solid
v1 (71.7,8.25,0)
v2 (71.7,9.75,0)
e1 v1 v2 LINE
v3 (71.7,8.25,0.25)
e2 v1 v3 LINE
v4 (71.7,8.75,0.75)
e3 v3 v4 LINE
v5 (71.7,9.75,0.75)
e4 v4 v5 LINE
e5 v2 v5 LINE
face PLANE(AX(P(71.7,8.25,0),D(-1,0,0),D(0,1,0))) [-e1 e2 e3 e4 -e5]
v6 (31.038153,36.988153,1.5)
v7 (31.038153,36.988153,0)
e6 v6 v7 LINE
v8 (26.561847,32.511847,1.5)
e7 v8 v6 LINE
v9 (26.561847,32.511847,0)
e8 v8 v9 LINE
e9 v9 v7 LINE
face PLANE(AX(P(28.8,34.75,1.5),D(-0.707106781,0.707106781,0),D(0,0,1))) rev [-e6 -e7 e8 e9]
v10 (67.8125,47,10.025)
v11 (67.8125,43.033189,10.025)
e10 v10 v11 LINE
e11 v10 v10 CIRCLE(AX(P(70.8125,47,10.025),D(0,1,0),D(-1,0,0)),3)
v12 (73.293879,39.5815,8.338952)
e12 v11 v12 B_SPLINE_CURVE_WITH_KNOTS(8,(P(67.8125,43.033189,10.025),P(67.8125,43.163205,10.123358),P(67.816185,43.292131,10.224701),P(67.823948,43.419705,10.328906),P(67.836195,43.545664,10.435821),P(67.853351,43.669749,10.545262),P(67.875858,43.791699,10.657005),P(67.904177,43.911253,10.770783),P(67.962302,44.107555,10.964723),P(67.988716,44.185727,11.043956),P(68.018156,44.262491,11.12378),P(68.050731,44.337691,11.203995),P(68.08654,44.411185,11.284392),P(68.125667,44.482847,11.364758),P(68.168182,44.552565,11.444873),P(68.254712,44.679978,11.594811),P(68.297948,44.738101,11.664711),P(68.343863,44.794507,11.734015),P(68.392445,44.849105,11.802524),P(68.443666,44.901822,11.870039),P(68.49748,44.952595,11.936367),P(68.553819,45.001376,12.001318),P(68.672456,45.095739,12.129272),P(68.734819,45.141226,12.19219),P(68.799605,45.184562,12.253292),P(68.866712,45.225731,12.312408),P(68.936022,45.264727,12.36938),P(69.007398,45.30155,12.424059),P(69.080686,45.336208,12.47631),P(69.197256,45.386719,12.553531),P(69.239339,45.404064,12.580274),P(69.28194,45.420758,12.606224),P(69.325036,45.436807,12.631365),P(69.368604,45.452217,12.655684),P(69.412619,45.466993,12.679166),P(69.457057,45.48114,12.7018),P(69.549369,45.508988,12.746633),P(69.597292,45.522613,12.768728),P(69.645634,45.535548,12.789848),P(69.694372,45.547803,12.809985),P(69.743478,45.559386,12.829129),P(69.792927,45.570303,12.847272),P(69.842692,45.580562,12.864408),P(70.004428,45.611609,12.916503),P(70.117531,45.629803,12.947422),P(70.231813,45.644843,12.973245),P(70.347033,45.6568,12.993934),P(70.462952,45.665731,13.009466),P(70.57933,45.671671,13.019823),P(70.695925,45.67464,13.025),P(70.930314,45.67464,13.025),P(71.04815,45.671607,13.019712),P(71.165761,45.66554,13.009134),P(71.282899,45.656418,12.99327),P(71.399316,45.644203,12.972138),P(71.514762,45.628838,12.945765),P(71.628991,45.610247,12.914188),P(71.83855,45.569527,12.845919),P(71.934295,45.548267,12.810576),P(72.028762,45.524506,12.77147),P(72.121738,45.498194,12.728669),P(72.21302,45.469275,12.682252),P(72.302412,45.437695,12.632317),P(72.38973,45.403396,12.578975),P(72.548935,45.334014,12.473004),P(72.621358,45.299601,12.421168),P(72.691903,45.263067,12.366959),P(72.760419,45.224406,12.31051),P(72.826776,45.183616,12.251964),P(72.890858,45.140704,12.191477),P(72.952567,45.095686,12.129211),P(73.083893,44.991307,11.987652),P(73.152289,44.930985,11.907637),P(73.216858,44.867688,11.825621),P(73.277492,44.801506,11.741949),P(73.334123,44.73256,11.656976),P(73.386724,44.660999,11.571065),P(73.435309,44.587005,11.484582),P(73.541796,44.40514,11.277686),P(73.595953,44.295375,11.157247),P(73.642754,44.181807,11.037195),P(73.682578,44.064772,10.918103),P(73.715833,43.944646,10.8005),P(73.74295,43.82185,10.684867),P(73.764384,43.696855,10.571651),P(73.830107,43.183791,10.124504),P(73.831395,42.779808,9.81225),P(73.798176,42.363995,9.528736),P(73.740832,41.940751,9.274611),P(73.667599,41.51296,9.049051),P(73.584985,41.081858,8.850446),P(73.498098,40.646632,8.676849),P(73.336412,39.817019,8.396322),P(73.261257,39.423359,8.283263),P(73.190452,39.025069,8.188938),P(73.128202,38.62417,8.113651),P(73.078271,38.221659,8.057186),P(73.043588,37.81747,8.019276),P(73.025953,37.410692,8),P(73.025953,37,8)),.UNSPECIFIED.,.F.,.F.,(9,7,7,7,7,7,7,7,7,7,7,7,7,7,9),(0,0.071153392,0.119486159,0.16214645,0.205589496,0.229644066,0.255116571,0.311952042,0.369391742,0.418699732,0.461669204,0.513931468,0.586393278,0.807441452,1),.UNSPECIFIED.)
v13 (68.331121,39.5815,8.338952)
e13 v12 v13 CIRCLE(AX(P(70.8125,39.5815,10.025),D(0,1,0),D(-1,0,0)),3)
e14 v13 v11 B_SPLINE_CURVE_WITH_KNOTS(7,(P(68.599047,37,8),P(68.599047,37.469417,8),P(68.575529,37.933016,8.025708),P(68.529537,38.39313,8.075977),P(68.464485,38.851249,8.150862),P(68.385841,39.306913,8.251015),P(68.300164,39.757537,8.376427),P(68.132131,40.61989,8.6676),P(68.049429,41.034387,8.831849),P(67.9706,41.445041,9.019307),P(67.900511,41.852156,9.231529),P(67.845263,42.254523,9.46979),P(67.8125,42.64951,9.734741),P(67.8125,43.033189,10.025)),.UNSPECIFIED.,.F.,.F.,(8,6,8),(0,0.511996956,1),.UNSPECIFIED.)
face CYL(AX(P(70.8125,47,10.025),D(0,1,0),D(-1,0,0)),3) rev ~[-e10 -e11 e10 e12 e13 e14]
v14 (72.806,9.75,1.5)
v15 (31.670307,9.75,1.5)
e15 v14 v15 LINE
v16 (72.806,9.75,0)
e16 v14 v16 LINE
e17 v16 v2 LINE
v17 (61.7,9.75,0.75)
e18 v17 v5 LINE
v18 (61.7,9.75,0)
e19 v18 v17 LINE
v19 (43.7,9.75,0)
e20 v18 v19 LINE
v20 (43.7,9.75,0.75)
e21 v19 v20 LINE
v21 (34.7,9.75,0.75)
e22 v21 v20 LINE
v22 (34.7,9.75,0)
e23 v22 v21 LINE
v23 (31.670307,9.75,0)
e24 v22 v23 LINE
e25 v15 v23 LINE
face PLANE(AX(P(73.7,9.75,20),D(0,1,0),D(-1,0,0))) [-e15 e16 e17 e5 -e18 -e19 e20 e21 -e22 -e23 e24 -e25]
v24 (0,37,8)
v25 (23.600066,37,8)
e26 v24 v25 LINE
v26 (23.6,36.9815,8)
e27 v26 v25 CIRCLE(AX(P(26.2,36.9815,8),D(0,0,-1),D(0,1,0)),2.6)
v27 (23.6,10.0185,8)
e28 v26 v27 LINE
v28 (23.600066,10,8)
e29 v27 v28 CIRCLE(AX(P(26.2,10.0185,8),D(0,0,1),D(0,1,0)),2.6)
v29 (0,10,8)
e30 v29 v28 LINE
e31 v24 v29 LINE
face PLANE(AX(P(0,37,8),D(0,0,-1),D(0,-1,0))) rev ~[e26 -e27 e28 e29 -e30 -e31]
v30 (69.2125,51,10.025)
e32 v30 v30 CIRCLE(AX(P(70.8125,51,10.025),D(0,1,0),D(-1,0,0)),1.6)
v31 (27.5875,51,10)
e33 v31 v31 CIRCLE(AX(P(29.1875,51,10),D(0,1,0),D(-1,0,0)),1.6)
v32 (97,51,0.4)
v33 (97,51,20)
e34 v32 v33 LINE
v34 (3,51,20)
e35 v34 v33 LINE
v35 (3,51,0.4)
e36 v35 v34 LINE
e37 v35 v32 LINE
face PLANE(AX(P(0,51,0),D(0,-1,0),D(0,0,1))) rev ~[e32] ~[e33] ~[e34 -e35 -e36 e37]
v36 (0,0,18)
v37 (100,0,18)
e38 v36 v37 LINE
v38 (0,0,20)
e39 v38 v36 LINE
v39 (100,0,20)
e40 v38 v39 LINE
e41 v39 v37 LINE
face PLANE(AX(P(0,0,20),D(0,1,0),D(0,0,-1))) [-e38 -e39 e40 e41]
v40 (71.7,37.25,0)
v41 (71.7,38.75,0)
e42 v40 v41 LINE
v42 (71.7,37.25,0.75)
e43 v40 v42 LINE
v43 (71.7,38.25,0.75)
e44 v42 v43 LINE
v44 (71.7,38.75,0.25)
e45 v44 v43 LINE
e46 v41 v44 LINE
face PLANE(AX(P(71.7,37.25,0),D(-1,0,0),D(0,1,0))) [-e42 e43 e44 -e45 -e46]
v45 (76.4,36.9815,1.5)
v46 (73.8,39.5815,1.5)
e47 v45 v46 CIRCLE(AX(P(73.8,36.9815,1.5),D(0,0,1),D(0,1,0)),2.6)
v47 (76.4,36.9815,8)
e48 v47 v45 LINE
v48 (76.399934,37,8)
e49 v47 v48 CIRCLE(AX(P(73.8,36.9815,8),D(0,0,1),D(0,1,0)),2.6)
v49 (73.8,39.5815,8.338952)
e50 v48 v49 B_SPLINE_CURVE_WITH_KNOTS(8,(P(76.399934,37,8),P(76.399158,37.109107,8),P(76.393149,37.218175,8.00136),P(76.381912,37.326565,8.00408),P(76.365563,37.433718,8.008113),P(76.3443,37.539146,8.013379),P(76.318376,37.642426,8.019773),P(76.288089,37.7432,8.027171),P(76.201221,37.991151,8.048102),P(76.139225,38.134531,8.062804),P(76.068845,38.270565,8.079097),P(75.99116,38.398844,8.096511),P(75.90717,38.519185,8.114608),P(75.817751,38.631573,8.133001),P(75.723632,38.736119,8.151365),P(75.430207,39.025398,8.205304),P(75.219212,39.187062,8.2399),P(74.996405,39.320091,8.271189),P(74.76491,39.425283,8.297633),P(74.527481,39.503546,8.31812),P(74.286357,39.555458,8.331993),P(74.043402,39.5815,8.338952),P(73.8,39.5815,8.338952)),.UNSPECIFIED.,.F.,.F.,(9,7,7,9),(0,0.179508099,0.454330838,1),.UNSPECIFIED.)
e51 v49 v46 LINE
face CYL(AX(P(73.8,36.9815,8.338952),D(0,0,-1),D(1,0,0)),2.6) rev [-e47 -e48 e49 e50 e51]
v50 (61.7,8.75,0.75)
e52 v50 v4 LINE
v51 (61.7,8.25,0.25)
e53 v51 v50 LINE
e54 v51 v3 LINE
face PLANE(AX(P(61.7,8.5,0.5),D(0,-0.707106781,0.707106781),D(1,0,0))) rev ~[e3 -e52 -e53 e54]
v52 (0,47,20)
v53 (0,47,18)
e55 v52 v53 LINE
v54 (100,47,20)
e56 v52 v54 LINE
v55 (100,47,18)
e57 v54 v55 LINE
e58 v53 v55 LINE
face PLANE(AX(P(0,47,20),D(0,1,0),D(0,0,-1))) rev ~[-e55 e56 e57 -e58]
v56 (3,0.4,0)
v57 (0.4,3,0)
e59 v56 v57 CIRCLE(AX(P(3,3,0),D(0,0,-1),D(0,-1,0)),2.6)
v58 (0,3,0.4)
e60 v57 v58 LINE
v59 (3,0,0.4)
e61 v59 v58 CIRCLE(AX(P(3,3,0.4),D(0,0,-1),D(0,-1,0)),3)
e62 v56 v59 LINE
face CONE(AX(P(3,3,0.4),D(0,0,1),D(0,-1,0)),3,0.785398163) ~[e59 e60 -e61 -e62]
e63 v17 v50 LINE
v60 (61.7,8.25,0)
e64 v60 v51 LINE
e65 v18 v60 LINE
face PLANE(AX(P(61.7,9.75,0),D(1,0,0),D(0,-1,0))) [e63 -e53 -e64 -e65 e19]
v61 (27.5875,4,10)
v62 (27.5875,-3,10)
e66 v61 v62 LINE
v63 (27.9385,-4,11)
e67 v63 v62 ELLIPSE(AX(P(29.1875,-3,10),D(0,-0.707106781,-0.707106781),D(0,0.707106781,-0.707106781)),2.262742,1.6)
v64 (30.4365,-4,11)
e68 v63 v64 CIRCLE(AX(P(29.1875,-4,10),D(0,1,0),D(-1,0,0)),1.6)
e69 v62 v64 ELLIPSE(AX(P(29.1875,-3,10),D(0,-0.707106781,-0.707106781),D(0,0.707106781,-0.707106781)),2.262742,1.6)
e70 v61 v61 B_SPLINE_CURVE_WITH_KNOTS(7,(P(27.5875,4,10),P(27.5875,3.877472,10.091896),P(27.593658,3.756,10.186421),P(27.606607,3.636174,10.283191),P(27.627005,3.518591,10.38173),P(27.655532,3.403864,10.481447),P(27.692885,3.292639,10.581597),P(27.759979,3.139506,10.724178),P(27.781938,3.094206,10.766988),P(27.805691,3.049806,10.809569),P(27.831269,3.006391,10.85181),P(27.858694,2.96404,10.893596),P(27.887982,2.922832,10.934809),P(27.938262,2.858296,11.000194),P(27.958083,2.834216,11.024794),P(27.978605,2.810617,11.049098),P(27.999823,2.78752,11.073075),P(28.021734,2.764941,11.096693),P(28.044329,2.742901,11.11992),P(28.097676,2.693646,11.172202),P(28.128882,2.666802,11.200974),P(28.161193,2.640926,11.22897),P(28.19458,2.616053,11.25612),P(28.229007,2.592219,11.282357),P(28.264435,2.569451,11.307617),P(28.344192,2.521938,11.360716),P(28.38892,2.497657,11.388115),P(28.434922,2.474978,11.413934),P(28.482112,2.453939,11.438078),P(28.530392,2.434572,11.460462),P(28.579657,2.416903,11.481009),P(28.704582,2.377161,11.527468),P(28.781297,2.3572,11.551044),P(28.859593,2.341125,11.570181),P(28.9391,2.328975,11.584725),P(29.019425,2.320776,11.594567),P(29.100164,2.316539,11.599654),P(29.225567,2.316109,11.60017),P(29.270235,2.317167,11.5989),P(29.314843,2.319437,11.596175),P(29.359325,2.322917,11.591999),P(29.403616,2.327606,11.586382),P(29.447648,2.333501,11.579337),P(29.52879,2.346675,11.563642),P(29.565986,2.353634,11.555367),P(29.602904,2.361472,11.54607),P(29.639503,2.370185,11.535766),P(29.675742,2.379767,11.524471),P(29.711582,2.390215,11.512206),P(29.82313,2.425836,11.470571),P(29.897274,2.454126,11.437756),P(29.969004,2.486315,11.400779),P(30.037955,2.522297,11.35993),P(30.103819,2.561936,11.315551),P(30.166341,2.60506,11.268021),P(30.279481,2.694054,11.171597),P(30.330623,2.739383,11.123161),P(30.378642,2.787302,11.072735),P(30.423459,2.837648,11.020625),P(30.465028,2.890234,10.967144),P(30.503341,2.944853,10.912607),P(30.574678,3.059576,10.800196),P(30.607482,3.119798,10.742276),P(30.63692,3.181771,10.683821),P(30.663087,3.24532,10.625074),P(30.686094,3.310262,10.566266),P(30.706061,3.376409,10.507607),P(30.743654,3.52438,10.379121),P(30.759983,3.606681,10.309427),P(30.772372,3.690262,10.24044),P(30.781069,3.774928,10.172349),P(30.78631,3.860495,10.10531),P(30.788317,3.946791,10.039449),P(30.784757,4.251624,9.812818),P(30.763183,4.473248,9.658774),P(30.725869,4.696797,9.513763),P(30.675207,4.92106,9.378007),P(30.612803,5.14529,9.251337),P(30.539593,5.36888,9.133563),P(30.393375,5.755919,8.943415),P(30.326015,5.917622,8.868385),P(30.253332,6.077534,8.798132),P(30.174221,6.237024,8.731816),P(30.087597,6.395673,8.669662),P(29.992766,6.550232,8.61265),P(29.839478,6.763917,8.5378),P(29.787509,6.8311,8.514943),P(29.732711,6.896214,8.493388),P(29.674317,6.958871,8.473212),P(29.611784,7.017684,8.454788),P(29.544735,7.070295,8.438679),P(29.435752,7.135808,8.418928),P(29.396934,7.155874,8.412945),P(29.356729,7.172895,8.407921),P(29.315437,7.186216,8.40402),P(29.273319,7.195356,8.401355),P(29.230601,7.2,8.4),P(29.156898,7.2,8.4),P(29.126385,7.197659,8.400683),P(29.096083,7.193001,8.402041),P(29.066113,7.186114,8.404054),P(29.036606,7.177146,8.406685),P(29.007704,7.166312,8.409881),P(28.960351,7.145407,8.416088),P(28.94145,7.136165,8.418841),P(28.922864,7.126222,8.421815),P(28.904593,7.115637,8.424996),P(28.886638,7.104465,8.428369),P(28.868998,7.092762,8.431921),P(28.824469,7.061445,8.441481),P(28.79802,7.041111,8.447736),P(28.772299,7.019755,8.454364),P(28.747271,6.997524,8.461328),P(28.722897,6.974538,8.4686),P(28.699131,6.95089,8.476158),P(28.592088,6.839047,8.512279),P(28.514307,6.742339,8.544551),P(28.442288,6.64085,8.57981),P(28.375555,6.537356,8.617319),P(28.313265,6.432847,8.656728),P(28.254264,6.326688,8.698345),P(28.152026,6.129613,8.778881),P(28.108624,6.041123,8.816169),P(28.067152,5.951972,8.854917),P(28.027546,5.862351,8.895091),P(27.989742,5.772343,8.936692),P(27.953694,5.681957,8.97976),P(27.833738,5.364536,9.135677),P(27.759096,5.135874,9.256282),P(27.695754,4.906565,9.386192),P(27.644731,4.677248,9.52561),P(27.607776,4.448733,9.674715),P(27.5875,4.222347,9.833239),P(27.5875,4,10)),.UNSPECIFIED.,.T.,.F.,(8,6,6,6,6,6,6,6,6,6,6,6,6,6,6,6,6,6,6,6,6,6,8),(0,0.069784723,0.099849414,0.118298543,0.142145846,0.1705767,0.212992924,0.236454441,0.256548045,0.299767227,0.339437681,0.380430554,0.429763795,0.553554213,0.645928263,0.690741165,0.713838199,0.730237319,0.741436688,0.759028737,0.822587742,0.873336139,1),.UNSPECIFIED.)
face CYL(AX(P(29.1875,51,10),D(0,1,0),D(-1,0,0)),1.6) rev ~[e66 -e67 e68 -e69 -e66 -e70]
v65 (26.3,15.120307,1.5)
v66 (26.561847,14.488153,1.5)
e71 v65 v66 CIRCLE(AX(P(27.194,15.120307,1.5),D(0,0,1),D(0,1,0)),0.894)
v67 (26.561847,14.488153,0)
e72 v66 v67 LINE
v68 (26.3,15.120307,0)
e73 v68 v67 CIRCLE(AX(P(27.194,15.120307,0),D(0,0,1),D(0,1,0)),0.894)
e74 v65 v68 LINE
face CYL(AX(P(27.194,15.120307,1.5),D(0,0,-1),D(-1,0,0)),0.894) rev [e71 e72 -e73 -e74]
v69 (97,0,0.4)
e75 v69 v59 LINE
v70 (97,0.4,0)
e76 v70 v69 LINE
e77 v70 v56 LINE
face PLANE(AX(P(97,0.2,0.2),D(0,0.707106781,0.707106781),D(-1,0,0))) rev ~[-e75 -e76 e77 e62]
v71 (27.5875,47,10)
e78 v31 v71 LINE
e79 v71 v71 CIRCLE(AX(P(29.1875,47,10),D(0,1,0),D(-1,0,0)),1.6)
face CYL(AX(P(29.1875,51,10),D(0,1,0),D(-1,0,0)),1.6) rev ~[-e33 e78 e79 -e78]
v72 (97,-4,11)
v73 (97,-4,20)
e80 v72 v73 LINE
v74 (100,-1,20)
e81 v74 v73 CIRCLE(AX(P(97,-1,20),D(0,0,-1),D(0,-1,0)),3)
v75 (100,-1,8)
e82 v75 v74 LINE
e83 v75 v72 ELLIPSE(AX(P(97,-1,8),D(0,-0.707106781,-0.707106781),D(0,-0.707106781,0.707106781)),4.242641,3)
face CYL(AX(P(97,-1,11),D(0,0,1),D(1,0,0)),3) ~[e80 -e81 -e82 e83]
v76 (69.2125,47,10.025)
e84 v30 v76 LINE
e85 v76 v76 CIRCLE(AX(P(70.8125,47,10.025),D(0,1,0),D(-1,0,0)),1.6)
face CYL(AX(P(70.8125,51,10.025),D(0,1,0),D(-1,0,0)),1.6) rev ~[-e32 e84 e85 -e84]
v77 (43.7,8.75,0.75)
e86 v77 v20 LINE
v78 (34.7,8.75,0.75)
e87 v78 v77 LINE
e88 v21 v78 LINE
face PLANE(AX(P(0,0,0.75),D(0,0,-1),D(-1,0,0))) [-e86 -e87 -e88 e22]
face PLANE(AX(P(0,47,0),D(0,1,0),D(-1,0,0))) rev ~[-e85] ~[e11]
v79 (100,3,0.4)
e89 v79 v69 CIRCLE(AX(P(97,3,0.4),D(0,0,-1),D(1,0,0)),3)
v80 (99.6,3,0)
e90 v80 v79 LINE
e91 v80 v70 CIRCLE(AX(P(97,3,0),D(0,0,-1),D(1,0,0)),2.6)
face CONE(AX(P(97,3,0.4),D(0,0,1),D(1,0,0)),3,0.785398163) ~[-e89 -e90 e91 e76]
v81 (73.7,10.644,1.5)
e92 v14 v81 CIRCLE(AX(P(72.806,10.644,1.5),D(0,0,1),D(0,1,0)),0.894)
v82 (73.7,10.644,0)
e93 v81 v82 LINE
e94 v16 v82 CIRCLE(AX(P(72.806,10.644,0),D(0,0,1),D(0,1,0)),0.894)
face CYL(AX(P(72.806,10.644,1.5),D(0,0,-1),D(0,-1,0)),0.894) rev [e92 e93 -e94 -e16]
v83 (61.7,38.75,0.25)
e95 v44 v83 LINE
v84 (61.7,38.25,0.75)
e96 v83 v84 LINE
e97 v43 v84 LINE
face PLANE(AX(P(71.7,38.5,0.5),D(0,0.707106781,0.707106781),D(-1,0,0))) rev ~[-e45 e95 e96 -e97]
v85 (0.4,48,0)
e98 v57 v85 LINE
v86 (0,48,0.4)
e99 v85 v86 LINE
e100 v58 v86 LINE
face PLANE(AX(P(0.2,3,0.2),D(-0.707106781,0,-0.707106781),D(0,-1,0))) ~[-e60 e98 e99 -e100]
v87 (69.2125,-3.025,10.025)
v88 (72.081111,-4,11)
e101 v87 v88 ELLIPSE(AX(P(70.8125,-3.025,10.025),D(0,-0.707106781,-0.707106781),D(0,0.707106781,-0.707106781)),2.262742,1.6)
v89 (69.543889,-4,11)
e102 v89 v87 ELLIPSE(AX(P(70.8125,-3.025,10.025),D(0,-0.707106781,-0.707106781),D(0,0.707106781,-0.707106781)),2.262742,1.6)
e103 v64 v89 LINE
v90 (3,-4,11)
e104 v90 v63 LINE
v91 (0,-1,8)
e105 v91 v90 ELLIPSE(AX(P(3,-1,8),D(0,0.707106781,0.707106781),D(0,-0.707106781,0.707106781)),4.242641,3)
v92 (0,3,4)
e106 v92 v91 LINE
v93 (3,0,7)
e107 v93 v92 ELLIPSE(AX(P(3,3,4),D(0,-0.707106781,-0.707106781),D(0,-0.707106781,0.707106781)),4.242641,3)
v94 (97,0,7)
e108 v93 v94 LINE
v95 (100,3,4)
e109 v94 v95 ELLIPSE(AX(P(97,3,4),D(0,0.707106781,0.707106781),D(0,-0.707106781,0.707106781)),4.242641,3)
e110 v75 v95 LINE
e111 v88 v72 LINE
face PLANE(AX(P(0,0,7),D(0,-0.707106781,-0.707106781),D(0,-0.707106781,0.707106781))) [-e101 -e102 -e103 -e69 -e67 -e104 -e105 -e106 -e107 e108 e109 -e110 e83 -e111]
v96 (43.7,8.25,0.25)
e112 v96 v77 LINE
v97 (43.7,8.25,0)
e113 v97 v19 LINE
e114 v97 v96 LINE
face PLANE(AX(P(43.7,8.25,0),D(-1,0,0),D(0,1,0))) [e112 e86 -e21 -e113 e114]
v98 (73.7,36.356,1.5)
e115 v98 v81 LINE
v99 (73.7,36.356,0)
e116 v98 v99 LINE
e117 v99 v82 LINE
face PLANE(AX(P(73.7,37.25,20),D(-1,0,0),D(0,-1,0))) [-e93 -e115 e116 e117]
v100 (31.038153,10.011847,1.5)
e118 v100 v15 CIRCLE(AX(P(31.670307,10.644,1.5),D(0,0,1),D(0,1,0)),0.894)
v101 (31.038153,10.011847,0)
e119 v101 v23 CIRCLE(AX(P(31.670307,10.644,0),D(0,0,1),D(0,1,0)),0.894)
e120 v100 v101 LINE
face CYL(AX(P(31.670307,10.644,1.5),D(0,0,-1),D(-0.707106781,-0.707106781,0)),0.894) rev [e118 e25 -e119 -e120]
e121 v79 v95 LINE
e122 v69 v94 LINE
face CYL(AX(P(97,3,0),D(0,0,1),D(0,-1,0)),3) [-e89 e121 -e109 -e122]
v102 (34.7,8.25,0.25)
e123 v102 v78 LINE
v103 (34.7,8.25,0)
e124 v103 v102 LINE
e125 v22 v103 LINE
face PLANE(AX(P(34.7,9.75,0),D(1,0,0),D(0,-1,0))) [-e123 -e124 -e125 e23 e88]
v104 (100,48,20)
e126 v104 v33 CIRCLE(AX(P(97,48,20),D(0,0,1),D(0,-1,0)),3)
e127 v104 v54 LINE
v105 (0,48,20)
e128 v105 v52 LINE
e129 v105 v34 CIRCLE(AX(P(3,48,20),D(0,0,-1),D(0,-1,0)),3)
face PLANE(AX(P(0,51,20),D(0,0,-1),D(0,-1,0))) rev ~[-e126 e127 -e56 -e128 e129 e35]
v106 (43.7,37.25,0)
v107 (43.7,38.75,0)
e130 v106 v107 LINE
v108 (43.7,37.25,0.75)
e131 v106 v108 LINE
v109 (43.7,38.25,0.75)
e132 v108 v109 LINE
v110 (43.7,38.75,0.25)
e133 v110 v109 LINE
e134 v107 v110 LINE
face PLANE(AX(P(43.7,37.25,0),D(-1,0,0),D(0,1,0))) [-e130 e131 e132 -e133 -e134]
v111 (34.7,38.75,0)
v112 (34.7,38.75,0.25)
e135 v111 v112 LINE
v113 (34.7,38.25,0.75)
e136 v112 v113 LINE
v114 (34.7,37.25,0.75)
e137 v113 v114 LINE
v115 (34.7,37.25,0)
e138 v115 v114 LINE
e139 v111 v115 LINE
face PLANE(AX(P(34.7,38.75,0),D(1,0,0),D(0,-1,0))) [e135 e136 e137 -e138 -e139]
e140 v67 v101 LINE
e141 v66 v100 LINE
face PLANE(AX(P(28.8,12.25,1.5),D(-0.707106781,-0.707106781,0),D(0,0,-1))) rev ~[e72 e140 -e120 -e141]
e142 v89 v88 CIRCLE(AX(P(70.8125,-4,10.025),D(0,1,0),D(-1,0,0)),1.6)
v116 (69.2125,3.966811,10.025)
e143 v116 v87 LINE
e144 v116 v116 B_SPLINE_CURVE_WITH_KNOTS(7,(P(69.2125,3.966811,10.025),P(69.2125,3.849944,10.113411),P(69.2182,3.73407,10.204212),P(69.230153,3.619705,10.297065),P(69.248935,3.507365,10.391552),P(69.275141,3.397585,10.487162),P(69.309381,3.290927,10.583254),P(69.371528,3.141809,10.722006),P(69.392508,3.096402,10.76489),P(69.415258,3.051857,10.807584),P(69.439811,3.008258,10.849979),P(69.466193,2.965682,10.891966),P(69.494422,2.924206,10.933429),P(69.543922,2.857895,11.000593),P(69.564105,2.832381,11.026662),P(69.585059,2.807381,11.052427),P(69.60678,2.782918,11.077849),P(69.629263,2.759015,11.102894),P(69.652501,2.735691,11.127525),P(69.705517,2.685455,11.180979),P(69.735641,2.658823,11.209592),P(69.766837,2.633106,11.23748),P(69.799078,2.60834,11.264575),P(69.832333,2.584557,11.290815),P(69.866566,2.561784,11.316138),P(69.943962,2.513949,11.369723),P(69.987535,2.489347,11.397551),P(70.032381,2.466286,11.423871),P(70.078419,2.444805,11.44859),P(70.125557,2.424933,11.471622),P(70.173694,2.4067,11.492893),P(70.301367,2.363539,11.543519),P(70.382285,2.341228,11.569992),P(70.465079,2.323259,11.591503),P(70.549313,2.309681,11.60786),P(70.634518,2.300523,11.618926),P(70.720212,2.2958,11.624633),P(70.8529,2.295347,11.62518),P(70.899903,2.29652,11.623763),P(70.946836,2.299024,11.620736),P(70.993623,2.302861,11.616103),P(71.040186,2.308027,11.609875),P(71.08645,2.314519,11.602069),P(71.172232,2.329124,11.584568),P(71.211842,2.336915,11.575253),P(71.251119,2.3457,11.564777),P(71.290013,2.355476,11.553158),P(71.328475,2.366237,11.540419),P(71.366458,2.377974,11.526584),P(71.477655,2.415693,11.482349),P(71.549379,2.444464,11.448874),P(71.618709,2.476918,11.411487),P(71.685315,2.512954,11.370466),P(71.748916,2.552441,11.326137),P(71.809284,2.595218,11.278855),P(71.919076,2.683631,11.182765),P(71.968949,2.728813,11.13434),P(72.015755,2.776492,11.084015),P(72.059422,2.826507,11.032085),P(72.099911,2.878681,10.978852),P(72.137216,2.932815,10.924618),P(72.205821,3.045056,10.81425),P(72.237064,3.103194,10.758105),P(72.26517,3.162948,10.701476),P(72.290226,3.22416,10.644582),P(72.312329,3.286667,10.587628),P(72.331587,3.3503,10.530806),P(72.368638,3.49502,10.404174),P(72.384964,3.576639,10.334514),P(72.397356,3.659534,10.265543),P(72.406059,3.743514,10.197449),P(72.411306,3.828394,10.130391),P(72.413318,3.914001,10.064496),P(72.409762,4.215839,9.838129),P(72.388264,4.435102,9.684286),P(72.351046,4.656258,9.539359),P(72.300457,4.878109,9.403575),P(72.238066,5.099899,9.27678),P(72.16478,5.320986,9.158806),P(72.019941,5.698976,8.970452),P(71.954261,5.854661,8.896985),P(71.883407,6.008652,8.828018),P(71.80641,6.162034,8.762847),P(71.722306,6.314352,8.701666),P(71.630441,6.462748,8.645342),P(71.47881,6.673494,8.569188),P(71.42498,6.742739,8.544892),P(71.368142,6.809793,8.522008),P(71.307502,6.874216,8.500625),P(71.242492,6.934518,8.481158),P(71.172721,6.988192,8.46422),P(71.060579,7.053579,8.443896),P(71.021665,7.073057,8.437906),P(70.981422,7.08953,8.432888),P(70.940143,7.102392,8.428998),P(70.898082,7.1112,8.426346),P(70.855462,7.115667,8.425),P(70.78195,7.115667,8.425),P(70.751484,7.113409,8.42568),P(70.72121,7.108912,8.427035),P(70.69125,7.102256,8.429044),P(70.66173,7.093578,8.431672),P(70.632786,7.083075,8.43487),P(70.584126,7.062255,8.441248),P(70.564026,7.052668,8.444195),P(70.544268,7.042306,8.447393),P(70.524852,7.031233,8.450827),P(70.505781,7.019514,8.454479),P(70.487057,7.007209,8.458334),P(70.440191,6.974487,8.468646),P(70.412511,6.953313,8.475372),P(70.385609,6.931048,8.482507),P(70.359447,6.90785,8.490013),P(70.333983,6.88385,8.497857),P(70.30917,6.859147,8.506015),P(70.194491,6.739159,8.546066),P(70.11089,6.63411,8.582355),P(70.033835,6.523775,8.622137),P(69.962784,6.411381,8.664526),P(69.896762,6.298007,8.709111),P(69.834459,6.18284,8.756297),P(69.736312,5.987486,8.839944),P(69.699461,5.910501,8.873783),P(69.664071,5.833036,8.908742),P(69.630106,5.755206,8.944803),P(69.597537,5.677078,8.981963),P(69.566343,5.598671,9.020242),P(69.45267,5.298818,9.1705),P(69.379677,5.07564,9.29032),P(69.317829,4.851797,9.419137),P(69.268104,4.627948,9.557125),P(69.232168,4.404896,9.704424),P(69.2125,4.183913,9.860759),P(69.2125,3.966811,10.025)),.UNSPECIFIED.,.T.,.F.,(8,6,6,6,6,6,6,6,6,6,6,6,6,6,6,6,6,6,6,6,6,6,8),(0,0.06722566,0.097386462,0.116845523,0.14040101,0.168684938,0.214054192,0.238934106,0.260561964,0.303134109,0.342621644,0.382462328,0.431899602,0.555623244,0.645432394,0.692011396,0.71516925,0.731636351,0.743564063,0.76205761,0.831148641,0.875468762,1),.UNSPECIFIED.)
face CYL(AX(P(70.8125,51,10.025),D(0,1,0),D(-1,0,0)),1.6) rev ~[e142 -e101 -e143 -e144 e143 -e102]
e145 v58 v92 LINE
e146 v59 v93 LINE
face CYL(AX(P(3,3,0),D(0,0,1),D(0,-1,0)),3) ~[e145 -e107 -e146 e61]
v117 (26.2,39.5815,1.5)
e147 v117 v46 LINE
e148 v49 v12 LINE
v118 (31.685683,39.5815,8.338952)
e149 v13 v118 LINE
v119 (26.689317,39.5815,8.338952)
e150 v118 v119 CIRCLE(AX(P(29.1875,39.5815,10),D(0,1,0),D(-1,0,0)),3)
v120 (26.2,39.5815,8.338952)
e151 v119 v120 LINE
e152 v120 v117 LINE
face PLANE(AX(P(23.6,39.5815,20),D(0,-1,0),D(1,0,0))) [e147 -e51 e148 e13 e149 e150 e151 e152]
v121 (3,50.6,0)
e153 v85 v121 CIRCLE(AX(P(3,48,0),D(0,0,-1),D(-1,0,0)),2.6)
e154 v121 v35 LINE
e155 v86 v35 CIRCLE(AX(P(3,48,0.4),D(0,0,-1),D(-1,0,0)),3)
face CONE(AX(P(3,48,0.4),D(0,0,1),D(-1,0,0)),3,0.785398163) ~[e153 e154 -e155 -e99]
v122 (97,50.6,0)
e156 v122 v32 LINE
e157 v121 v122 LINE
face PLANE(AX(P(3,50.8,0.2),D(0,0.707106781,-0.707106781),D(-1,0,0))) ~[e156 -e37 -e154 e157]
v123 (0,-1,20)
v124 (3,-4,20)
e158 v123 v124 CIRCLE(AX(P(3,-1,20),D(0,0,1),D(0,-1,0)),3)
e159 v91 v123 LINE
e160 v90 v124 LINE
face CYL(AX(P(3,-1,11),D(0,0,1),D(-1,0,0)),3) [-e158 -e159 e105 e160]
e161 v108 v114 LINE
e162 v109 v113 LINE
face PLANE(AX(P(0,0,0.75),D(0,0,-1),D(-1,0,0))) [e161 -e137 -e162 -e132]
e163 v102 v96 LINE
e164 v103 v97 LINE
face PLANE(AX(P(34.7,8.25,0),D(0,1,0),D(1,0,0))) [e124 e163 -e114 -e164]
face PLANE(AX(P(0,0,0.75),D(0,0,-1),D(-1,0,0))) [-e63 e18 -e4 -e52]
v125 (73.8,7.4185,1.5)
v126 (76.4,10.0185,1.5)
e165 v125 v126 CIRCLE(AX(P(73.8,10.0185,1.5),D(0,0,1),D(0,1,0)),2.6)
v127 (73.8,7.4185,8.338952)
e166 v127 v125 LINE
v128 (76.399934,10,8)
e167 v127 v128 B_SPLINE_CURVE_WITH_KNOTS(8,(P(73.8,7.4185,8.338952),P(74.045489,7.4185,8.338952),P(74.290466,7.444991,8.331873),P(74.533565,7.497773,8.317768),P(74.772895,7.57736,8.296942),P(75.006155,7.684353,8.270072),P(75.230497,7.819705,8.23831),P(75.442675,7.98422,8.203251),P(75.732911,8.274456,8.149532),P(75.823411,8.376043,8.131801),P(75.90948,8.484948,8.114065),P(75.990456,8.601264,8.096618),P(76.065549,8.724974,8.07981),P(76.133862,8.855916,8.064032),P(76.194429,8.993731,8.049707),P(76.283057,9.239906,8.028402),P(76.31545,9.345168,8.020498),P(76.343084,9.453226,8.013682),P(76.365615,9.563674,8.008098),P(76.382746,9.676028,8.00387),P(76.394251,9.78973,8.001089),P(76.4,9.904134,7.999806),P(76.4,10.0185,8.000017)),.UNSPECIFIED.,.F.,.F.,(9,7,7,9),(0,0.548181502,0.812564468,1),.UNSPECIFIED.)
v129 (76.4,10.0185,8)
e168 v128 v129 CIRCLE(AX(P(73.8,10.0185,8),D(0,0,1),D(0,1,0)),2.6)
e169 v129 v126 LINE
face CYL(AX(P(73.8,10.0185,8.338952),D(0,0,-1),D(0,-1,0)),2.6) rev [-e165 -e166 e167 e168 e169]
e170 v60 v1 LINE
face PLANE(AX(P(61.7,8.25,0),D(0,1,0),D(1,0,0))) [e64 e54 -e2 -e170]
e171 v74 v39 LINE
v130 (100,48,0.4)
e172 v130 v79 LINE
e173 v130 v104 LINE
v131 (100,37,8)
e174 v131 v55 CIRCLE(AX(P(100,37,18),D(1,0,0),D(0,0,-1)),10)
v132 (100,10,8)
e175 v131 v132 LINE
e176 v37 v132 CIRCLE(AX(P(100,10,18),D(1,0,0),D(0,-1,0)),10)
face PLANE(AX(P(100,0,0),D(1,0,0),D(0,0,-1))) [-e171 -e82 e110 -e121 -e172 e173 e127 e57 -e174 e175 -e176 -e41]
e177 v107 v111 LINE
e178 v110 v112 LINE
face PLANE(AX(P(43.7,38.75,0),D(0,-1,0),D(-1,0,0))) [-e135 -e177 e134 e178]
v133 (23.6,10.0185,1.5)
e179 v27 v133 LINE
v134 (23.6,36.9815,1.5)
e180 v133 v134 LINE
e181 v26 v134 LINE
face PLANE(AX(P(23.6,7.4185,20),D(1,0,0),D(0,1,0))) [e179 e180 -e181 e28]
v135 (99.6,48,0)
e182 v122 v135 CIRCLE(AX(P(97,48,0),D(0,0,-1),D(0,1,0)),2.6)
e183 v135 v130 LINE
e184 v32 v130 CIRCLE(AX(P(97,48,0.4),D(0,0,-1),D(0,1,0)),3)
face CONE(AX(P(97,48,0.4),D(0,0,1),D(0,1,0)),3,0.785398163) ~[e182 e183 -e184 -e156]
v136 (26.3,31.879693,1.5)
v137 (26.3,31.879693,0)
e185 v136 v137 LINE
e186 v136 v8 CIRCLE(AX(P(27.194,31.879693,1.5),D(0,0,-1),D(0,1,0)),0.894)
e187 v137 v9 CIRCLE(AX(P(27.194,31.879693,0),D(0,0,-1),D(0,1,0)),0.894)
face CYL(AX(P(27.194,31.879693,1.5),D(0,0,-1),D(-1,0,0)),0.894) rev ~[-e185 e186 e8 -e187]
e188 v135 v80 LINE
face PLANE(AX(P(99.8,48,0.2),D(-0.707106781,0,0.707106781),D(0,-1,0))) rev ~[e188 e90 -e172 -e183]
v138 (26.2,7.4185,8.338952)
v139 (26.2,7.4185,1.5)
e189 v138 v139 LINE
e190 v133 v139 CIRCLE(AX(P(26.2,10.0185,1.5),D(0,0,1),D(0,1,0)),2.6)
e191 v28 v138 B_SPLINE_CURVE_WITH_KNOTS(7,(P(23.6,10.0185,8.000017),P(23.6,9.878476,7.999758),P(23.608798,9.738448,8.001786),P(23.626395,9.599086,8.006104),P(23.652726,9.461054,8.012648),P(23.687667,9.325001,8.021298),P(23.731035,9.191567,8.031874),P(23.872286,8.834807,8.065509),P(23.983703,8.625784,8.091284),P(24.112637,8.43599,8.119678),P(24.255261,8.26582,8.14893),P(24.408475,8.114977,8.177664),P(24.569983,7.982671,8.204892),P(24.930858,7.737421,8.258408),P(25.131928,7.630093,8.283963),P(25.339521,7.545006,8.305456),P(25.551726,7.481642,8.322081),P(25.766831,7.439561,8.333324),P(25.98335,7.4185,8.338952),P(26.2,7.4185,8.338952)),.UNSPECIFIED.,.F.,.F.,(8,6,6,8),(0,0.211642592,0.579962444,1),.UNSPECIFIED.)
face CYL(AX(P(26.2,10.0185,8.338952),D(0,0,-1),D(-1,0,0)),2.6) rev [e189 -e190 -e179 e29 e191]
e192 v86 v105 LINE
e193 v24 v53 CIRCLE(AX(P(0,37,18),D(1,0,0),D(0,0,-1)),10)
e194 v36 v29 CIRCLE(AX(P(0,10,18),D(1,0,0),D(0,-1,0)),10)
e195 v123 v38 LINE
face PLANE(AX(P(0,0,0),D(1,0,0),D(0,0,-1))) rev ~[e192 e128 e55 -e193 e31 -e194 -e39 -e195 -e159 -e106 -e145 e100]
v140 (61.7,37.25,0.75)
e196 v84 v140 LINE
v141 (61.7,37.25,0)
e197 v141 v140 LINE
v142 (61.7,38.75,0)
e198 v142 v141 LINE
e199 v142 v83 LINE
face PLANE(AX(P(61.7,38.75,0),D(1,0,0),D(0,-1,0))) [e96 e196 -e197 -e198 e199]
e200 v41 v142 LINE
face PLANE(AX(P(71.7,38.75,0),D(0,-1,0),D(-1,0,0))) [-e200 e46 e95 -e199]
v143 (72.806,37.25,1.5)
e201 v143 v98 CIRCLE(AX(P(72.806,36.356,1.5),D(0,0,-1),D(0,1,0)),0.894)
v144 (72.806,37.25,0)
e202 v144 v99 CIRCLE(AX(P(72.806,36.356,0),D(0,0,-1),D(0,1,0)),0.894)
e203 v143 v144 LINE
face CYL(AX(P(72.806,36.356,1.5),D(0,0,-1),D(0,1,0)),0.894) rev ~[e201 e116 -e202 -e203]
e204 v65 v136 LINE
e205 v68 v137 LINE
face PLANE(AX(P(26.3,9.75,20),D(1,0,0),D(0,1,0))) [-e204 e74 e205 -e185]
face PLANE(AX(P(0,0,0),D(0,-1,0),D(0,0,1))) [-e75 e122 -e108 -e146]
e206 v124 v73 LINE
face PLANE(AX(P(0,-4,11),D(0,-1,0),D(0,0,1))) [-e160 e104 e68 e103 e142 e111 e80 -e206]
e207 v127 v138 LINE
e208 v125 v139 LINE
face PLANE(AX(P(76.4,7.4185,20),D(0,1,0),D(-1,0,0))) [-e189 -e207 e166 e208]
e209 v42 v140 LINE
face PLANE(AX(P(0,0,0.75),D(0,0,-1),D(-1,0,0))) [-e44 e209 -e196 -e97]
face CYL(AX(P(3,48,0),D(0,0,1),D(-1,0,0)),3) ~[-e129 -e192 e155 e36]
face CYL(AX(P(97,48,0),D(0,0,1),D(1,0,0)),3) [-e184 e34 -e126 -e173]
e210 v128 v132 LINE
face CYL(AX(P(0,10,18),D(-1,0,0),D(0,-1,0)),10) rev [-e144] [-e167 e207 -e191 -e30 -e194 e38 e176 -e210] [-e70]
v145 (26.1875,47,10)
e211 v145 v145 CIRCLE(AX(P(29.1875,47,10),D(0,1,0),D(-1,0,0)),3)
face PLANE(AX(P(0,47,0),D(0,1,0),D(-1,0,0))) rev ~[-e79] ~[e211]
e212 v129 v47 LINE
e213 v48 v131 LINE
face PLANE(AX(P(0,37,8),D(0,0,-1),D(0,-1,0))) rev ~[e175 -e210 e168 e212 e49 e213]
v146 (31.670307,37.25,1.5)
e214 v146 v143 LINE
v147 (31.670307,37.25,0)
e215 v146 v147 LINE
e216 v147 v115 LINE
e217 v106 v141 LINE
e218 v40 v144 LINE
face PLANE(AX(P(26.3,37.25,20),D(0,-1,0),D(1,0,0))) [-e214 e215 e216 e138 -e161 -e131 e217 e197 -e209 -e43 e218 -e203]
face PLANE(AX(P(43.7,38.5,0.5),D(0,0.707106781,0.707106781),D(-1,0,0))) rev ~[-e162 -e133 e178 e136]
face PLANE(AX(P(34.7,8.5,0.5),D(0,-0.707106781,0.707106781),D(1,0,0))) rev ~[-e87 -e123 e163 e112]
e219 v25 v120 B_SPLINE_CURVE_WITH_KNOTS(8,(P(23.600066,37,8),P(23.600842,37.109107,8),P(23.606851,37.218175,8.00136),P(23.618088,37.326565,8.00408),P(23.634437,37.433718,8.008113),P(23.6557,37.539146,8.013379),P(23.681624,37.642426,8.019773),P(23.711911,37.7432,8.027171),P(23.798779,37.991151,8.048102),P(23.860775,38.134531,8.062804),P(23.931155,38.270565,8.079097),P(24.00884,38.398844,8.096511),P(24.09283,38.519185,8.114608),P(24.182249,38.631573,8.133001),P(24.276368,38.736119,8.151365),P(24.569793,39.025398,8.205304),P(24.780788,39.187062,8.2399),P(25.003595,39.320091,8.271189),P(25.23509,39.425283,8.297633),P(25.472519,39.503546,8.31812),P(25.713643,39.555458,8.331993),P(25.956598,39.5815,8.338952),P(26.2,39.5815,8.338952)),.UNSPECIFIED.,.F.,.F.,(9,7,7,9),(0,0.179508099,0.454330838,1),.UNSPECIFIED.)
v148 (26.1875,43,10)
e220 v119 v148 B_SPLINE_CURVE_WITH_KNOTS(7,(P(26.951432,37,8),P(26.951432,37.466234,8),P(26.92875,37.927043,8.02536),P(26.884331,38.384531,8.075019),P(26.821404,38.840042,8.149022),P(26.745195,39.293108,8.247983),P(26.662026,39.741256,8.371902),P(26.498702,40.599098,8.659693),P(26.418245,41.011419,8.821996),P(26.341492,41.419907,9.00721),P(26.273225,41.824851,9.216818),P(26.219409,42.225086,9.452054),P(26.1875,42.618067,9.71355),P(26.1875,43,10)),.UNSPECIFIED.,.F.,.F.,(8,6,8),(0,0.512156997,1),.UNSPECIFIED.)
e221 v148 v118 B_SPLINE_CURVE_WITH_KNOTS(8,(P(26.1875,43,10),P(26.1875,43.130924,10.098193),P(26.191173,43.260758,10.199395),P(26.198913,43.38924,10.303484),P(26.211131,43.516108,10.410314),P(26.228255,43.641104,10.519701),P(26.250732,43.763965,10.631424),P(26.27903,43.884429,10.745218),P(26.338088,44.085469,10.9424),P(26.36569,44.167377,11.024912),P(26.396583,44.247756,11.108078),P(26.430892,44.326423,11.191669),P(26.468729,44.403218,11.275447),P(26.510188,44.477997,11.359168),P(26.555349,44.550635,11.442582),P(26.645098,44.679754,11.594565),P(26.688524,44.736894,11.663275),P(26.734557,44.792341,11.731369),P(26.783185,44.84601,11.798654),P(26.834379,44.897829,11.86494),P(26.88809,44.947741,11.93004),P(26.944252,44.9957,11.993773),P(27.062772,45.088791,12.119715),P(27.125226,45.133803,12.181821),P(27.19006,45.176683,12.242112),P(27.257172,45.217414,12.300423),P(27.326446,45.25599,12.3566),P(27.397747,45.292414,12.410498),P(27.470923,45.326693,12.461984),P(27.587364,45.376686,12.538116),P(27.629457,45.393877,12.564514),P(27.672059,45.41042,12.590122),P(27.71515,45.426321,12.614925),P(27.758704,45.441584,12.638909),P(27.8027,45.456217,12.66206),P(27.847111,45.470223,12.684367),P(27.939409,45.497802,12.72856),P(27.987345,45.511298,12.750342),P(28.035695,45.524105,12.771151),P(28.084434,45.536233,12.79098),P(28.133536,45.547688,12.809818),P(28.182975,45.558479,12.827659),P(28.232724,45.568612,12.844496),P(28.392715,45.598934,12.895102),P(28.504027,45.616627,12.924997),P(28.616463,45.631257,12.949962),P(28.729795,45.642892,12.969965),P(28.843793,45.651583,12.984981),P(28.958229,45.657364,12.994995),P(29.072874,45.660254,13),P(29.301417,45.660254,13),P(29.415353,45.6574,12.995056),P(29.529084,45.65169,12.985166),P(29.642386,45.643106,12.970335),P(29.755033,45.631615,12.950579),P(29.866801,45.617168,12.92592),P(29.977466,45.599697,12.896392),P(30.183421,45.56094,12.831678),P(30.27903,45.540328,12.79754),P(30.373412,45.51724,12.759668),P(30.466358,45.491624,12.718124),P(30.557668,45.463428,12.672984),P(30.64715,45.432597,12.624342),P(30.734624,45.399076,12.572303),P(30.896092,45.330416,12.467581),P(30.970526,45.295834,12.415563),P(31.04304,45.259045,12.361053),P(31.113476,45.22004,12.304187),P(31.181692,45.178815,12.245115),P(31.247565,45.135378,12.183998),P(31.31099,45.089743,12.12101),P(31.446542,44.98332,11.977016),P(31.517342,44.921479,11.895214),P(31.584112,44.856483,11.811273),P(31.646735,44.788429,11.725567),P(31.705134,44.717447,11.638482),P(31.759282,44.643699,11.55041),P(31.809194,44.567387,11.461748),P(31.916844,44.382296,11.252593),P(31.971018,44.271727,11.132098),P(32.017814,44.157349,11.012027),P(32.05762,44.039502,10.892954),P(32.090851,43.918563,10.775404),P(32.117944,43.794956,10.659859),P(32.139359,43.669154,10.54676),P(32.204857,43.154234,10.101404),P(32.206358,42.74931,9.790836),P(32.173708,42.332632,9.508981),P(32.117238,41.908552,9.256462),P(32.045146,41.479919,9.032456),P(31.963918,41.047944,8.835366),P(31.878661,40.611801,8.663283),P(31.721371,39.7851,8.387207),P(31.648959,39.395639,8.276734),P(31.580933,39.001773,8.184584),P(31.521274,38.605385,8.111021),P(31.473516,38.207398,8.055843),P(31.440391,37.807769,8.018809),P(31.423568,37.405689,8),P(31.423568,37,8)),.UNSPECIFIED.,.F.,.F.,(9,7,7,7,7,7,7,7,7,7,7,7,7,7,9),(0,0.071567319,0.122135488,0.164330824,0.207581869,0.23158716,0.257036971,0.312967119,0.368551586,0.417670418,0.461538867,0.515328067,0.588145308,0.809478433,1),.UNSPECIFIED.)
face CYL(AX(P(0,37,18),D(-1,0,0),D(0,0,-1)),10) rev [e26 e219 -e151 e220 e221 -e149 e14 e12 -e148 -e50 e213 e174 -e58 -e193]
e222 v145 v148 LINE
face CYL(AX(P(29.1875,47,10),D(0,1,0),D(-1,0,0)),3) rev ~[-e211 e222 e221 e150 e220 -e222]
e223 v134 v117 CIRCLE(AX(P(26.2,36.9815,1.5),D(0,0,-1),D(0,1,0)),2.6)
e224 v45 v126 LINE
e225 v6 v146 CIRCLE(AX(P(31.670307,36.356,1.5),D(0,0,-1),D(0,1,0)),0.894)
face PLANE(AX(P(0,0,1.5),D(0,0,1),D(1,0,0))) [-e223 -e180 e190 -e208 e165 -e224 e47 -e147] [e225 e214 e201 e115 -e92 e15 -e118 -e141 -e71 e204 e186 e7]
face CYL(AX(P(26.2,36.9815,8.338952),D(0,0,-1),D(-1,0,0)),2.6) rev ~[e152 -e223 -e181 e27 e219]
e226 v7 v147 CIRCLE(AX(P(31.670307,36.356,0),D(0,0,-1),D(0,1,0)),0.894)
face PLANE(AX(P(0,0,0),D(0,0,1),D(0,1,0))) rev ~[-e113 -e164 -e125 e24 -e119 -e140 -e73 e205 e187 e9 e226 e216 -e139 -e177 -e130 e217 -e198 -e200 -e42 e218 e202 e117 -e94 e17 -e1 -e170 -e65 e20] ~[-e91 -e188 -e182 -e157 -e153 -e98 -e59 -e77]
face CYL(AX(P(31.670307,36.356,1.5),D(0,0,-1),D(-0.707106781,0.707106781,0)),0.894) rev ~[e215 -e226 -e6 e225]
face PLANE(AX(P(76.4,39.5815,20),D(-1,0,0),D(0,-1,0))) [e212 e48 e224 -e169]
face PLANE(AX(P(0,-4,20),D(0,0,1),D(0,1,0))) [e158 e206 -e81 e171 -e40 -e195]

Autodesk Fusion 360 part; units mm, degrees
sketch "Sketch1" plane through (0, 0, 0) normal (1, 0, 0) x (0, 0, -1)
  line L0 (0, 0) -> (0, 51)
  line L1 (0, 51) -> (-20, 51)
  line L2 (-20, 51) -> (-20, 47)
  line L3 (-20, 47) -> (-18, 47)
  line L4 (-18, 47) -> (-8, 47) construction
  line L5 (-8, 47) -> (-8, 37) construction
  arc A0 (-8, 37) -> (-18, 47) centre (-18, 37) ccw
  line L6 (-8, 37) -> (-8, 10)
  line L7 (0, 0) -> (-7, 0)
  line L8 (-7, 0) -> (-11, 0) construction
  line L9 (-11, 0) -> (-11, -4) construction
  line L10 (-7, 0) -> (-11, -4)
  line L11 (-11, -4) -> (-20, -4)
  line L12 (-20, -4) -> (-20, 0)
  line L13 (-20, 0) -> (-18, 0)
  line L14 (-18, 0) -> (-8, 0) construction
  line L15 (-8, 0) -> (-8, 10) construction
  arc A1 (-18, 0) -> (-8, 10) centre (-18, 10) ccw
  line L16 (-8, 10) -> (0, 10) construction
  dimension "d1" = 51
  dimension "d2" = 20
  dimension "d3" = 4
  dimension "d5" = 2
  dimension "d6" = 10
  dimension "d7" = 10
  dimension "d8" = 27
  dimension "d12" = 7
  dimension "d13" = 4
  dimension "d14" = 4
  dimension "d15" = 9
  dimension "d16" = 4
  dimension "d17" = 2
  dimension "d18" = 10
  dimension "d19" = 10
extrude "Extrude1" add sketch "Sketch1" along normal blind 100
sketch "Sketch3" plane through (0, 0, 20) normal (0, 0, 1) x (1, 0, 0)
  line L0 (0, 51) -> (0, 47)
  line L1 (0, 47) -> (100, 47)
  line L2 (100, 47) -> (100, 51)
  line L3 (100, 51) -> (0, 51)
  line L4 (0, -4) -> (100, -4)
  line L5 (50, 51) -> (50, -4) construction
  line L6 (23.6, 39.5815) -> (76.4, 39.5815)
  line L7 (76.4, 39.5815) -> (76.4, 7.4185)
  line L8 (76.4, 7.4185) -> (23.6, 7.4185)
  line L9 (23.6, 7.4185) -> (23.6, 39.5815)
  line L10 (50, 23.5) -> (23.6, 23.5) construction
  line L11 (50, 23.5) -> (76.4, 23.5) construction
  dimension "d22" = 52.8
  dimension "d23" = 32.163
extrude "Extrude2" cut sketch "Sketch3" against normal blind 18.5 contours L6 L7 L8 L9
fillet "Fillet1" radius 2.6 4 edges at (76.4, 39.5815, 4.9195) (23.6, 39.5815, 4.9195) (23.6, 7.4185, 4.9195) (76.4, 7.4185, 4.9195)
sketch "Sketch4" plane through (0, 0, 20) normal (0, 0, 1) x (1, 0, 0)
  line L0 (0, 51) -> (0, 47)
  line L1 (0, 47) -> (100, 47)
  line L2 (100, 47) -> (100, 51)
  line L3 (100, 51) -> (0, 51)
  line L4 (0, -4) -> (100, -4)
  line L5 (50, 51) -> (50, -4) construction
  line L6 (26.3, 37.25) -> (73.7, 37.25)
  line L7 (73.7, 37.25) -> (73.7, 9.75)
  line L8 (73.7, 9.75) -> (26.3, 9.75)
  line L9 (26.3, 9.75) -> (26.3, 37.25)
  line L10 (50, 23.5) -> (26.3, 23.5) construction
  line L11 (50, 23.5) -> (73.7, 23.5) construction
  dimension "d27" = 47.4
  dimension "d28" = 27.5
extrude "Extrude3" cut sketch "Sketch4" against normal blind 26 contours L6 L7 L8 L9
chamfer "Chamfer2" distance 5 angle 45 2 edges at (26.3, 9.75, 0.75) (26.3, 37.25, 0.75)
fillet "Fillet3" radius 0.894 6 edges at (31.3, 37.25, 0.75) (26.3, 32.25, 0.75) (26.3, 14.75, 0.75) (31.3, 9.75, 0.75) (73.7, 37.25, 0.75) (73.7, 9.75, 0.75)
sketch "Sketch5" plane through (0, 51, 0) normal (0, 1, 0) x (-1, 0, 0)
  line L0 (0, 0) -> (0, 20)
  line L1 (0, 20) -> (-100, 20)
  line L2 (-100, 20) -> (-100, 0)
  line L3 (-100, 0) -> (0, 0)
  line L4 (-50, 10) -> (-29.1875, 10) construction
  line L5 (-50, 10) -> (-70.8125, 10.025) construction
  circle A0 centre (-70.8125, 10.025) radius 1.6
  circle A1 centre (-29.1875, 10) radius 1.6
  line L6 (-50, 10) -> (-50, 0) construction
  dimension "d35" = 20.8125
  dimension "d36" = 20.8125
  dimension "d37" = 3.2
  dimension "d38" = 3.2
  dimension "d41" = 10
sketch "Sketch7" plane through (0, 0, 0) normal (0, 0, -1) x (-1, 0, 0)
  line L0 (-73.7, 10.644) -> (-73.7, 36.356)
  arc A0 (-72.806, 37.25) -> (-73.7, 36.356) centre (-72.806, 36.356) ccw
  line L1 (-72.806, 37.25) -> (-31.6703, 37.25)
  arc A1 (-31.0382, 36.9882) -> (-31.6703, 37.25) centre (-31.6703, 36.356) ccw
  line L2 (-31.0382, 36.9882) -> (-26.5618, 32.5118)
  arc A2 (-26.3, 31.8797) -> (-26.5618, 32.5118) centre (-27.194, 31.8797) ccw
  line L3 (-26.3, 31.8797) -> (-26.3, 15.1203)
  arc A3 (-26.5618, 14.4882) -> (-26.3, 15.1203) centre (-27.194, 15.1203) ccw
  line L4 (-26.5618, 14.4882) -> (-31.0382, 10.0118)
  arc A4 (-31.6703, 9.75) -> (-31.0382, 10.0118) centre (-31.6703, 10.644) ccw
  line L5 (-31.6703, 9.75) -> (-72.806, 9.75)
  arc A5 (-73.7, 10.644) -> (-72.806, 9.75) centre (-72.806, 10.644) ccw
  line L6 (0, 0) -> (0, 51)
  line L7 (0, 51) -> (-100, 51)
  line L8 (-100, 51) -> (-100, 0)
  line L9 (-100, 0) -> (0, 0)
  line L10 (-71.7, 38.75) -> (-61.7, 38.75)
  line L11 (-61.7, 38.75) -> (-61.7, 8.25)
  line L12 (-61.7, 8.25) -> (-71.7, 8.25)
  line L13 (-71.7, 8.25) -> (-71.7, 38.75)
  line L14 (-66.7, 38.75) -> (-66.7, 37.25) construction
  line L15 (-66.7, 8.25) -> (-66.7, 9.75) construction
  line L16 (-71.7, 22) -> (-73.7, 22) construction
  line L17 (-43.7, 38.75) -> (-34.7, 38.75)
  line L18 (-34.7, 38.75) -> (-34.7, 8.25)
  line L19 (-34.7, 8.25) -> (-43.7, 8.25)
  line L20 (-43.7, 8.25) -> (-43.7, 38.75)
  line L21 (-73.7, 23.5) -> (-43.7, 23.5) construction
  dimension "d51" = 30.5
  dimension "d52" = 2
  dimension "d53" = 10
  dimension "d54" = 30
  dimension "d55" = 9
extrude "Extrude6" cut sketch "Sketch7" against normal blind 0.75 contours L5 L11 L12 L13 | L1 L10 L11 L13 | L5 L18 L19 L20 | L1 L17 L18 L20
extrude "Extrude4" cut sketch "Sketch5" against normal blind 77 contours A0 | A1
fillet "Fillet4" radius 3 6 edges at (0, 51, 10) (0, -4, 15.5) (100, -4, 15.5) (100, 51, 10) (100, 0, 3.5) (0, 0, 3.5)
chamfer "Chamfer3" distance 0.4 angle 45 8 edges at (50, 51, 0) (0.8787, 50.1213, 0) (0, 25.5, 0) (0.8787, 0.8787, 0) (50, 0, 0) (99.1213, 0.8787, 0) (100, 25.5, 0) (99.1213, 50.1213, 0)
sketch "Sketch6" plane through (0, 51, 0) normal (0, 1, 0) x (-1, 0, 0)
  line L0 (-97, 0.4) -> (-3, 0.4)
  line L1 (-3, 0.4) -> (-3, 20)
  line L2 (-3, 20) -> (-97, 20)
  line L3 (-97, 20) -> (-97, 0.4)
  circle A0 centre (-70.8125, 10.025) radius 1.6
  circle A1 centre (-29.1875, 10) radius 1.6
  circle A2 centre (-29.1875, 10) radius 3
  circle A3 centre (-70.8125, 10.025) radius 3
  dimension "d44" = 6
  dimension "d45" = 6
extrude "Extrude5" cut sketch "Sketch6" against normal blind 15 from surface at -4 contours A0 | A1 | A2 | A3
chamfer "Chamfer4" distance 0.5 angle 45 4 edges at (66.7, 38.75, 0.75) (39.2, 38.75, 0.75) (39.2, 8.25, 0.75) (66.7, 8.25, 0.75)
equation "d20 = Panel_Length"
equation "d35 = ( 41.625 / 2 ) * 1 mm"
equation "d36 = ( 41.625 / 2 ) * 1 mm"
equation "Panel_Length = 100 mm"
